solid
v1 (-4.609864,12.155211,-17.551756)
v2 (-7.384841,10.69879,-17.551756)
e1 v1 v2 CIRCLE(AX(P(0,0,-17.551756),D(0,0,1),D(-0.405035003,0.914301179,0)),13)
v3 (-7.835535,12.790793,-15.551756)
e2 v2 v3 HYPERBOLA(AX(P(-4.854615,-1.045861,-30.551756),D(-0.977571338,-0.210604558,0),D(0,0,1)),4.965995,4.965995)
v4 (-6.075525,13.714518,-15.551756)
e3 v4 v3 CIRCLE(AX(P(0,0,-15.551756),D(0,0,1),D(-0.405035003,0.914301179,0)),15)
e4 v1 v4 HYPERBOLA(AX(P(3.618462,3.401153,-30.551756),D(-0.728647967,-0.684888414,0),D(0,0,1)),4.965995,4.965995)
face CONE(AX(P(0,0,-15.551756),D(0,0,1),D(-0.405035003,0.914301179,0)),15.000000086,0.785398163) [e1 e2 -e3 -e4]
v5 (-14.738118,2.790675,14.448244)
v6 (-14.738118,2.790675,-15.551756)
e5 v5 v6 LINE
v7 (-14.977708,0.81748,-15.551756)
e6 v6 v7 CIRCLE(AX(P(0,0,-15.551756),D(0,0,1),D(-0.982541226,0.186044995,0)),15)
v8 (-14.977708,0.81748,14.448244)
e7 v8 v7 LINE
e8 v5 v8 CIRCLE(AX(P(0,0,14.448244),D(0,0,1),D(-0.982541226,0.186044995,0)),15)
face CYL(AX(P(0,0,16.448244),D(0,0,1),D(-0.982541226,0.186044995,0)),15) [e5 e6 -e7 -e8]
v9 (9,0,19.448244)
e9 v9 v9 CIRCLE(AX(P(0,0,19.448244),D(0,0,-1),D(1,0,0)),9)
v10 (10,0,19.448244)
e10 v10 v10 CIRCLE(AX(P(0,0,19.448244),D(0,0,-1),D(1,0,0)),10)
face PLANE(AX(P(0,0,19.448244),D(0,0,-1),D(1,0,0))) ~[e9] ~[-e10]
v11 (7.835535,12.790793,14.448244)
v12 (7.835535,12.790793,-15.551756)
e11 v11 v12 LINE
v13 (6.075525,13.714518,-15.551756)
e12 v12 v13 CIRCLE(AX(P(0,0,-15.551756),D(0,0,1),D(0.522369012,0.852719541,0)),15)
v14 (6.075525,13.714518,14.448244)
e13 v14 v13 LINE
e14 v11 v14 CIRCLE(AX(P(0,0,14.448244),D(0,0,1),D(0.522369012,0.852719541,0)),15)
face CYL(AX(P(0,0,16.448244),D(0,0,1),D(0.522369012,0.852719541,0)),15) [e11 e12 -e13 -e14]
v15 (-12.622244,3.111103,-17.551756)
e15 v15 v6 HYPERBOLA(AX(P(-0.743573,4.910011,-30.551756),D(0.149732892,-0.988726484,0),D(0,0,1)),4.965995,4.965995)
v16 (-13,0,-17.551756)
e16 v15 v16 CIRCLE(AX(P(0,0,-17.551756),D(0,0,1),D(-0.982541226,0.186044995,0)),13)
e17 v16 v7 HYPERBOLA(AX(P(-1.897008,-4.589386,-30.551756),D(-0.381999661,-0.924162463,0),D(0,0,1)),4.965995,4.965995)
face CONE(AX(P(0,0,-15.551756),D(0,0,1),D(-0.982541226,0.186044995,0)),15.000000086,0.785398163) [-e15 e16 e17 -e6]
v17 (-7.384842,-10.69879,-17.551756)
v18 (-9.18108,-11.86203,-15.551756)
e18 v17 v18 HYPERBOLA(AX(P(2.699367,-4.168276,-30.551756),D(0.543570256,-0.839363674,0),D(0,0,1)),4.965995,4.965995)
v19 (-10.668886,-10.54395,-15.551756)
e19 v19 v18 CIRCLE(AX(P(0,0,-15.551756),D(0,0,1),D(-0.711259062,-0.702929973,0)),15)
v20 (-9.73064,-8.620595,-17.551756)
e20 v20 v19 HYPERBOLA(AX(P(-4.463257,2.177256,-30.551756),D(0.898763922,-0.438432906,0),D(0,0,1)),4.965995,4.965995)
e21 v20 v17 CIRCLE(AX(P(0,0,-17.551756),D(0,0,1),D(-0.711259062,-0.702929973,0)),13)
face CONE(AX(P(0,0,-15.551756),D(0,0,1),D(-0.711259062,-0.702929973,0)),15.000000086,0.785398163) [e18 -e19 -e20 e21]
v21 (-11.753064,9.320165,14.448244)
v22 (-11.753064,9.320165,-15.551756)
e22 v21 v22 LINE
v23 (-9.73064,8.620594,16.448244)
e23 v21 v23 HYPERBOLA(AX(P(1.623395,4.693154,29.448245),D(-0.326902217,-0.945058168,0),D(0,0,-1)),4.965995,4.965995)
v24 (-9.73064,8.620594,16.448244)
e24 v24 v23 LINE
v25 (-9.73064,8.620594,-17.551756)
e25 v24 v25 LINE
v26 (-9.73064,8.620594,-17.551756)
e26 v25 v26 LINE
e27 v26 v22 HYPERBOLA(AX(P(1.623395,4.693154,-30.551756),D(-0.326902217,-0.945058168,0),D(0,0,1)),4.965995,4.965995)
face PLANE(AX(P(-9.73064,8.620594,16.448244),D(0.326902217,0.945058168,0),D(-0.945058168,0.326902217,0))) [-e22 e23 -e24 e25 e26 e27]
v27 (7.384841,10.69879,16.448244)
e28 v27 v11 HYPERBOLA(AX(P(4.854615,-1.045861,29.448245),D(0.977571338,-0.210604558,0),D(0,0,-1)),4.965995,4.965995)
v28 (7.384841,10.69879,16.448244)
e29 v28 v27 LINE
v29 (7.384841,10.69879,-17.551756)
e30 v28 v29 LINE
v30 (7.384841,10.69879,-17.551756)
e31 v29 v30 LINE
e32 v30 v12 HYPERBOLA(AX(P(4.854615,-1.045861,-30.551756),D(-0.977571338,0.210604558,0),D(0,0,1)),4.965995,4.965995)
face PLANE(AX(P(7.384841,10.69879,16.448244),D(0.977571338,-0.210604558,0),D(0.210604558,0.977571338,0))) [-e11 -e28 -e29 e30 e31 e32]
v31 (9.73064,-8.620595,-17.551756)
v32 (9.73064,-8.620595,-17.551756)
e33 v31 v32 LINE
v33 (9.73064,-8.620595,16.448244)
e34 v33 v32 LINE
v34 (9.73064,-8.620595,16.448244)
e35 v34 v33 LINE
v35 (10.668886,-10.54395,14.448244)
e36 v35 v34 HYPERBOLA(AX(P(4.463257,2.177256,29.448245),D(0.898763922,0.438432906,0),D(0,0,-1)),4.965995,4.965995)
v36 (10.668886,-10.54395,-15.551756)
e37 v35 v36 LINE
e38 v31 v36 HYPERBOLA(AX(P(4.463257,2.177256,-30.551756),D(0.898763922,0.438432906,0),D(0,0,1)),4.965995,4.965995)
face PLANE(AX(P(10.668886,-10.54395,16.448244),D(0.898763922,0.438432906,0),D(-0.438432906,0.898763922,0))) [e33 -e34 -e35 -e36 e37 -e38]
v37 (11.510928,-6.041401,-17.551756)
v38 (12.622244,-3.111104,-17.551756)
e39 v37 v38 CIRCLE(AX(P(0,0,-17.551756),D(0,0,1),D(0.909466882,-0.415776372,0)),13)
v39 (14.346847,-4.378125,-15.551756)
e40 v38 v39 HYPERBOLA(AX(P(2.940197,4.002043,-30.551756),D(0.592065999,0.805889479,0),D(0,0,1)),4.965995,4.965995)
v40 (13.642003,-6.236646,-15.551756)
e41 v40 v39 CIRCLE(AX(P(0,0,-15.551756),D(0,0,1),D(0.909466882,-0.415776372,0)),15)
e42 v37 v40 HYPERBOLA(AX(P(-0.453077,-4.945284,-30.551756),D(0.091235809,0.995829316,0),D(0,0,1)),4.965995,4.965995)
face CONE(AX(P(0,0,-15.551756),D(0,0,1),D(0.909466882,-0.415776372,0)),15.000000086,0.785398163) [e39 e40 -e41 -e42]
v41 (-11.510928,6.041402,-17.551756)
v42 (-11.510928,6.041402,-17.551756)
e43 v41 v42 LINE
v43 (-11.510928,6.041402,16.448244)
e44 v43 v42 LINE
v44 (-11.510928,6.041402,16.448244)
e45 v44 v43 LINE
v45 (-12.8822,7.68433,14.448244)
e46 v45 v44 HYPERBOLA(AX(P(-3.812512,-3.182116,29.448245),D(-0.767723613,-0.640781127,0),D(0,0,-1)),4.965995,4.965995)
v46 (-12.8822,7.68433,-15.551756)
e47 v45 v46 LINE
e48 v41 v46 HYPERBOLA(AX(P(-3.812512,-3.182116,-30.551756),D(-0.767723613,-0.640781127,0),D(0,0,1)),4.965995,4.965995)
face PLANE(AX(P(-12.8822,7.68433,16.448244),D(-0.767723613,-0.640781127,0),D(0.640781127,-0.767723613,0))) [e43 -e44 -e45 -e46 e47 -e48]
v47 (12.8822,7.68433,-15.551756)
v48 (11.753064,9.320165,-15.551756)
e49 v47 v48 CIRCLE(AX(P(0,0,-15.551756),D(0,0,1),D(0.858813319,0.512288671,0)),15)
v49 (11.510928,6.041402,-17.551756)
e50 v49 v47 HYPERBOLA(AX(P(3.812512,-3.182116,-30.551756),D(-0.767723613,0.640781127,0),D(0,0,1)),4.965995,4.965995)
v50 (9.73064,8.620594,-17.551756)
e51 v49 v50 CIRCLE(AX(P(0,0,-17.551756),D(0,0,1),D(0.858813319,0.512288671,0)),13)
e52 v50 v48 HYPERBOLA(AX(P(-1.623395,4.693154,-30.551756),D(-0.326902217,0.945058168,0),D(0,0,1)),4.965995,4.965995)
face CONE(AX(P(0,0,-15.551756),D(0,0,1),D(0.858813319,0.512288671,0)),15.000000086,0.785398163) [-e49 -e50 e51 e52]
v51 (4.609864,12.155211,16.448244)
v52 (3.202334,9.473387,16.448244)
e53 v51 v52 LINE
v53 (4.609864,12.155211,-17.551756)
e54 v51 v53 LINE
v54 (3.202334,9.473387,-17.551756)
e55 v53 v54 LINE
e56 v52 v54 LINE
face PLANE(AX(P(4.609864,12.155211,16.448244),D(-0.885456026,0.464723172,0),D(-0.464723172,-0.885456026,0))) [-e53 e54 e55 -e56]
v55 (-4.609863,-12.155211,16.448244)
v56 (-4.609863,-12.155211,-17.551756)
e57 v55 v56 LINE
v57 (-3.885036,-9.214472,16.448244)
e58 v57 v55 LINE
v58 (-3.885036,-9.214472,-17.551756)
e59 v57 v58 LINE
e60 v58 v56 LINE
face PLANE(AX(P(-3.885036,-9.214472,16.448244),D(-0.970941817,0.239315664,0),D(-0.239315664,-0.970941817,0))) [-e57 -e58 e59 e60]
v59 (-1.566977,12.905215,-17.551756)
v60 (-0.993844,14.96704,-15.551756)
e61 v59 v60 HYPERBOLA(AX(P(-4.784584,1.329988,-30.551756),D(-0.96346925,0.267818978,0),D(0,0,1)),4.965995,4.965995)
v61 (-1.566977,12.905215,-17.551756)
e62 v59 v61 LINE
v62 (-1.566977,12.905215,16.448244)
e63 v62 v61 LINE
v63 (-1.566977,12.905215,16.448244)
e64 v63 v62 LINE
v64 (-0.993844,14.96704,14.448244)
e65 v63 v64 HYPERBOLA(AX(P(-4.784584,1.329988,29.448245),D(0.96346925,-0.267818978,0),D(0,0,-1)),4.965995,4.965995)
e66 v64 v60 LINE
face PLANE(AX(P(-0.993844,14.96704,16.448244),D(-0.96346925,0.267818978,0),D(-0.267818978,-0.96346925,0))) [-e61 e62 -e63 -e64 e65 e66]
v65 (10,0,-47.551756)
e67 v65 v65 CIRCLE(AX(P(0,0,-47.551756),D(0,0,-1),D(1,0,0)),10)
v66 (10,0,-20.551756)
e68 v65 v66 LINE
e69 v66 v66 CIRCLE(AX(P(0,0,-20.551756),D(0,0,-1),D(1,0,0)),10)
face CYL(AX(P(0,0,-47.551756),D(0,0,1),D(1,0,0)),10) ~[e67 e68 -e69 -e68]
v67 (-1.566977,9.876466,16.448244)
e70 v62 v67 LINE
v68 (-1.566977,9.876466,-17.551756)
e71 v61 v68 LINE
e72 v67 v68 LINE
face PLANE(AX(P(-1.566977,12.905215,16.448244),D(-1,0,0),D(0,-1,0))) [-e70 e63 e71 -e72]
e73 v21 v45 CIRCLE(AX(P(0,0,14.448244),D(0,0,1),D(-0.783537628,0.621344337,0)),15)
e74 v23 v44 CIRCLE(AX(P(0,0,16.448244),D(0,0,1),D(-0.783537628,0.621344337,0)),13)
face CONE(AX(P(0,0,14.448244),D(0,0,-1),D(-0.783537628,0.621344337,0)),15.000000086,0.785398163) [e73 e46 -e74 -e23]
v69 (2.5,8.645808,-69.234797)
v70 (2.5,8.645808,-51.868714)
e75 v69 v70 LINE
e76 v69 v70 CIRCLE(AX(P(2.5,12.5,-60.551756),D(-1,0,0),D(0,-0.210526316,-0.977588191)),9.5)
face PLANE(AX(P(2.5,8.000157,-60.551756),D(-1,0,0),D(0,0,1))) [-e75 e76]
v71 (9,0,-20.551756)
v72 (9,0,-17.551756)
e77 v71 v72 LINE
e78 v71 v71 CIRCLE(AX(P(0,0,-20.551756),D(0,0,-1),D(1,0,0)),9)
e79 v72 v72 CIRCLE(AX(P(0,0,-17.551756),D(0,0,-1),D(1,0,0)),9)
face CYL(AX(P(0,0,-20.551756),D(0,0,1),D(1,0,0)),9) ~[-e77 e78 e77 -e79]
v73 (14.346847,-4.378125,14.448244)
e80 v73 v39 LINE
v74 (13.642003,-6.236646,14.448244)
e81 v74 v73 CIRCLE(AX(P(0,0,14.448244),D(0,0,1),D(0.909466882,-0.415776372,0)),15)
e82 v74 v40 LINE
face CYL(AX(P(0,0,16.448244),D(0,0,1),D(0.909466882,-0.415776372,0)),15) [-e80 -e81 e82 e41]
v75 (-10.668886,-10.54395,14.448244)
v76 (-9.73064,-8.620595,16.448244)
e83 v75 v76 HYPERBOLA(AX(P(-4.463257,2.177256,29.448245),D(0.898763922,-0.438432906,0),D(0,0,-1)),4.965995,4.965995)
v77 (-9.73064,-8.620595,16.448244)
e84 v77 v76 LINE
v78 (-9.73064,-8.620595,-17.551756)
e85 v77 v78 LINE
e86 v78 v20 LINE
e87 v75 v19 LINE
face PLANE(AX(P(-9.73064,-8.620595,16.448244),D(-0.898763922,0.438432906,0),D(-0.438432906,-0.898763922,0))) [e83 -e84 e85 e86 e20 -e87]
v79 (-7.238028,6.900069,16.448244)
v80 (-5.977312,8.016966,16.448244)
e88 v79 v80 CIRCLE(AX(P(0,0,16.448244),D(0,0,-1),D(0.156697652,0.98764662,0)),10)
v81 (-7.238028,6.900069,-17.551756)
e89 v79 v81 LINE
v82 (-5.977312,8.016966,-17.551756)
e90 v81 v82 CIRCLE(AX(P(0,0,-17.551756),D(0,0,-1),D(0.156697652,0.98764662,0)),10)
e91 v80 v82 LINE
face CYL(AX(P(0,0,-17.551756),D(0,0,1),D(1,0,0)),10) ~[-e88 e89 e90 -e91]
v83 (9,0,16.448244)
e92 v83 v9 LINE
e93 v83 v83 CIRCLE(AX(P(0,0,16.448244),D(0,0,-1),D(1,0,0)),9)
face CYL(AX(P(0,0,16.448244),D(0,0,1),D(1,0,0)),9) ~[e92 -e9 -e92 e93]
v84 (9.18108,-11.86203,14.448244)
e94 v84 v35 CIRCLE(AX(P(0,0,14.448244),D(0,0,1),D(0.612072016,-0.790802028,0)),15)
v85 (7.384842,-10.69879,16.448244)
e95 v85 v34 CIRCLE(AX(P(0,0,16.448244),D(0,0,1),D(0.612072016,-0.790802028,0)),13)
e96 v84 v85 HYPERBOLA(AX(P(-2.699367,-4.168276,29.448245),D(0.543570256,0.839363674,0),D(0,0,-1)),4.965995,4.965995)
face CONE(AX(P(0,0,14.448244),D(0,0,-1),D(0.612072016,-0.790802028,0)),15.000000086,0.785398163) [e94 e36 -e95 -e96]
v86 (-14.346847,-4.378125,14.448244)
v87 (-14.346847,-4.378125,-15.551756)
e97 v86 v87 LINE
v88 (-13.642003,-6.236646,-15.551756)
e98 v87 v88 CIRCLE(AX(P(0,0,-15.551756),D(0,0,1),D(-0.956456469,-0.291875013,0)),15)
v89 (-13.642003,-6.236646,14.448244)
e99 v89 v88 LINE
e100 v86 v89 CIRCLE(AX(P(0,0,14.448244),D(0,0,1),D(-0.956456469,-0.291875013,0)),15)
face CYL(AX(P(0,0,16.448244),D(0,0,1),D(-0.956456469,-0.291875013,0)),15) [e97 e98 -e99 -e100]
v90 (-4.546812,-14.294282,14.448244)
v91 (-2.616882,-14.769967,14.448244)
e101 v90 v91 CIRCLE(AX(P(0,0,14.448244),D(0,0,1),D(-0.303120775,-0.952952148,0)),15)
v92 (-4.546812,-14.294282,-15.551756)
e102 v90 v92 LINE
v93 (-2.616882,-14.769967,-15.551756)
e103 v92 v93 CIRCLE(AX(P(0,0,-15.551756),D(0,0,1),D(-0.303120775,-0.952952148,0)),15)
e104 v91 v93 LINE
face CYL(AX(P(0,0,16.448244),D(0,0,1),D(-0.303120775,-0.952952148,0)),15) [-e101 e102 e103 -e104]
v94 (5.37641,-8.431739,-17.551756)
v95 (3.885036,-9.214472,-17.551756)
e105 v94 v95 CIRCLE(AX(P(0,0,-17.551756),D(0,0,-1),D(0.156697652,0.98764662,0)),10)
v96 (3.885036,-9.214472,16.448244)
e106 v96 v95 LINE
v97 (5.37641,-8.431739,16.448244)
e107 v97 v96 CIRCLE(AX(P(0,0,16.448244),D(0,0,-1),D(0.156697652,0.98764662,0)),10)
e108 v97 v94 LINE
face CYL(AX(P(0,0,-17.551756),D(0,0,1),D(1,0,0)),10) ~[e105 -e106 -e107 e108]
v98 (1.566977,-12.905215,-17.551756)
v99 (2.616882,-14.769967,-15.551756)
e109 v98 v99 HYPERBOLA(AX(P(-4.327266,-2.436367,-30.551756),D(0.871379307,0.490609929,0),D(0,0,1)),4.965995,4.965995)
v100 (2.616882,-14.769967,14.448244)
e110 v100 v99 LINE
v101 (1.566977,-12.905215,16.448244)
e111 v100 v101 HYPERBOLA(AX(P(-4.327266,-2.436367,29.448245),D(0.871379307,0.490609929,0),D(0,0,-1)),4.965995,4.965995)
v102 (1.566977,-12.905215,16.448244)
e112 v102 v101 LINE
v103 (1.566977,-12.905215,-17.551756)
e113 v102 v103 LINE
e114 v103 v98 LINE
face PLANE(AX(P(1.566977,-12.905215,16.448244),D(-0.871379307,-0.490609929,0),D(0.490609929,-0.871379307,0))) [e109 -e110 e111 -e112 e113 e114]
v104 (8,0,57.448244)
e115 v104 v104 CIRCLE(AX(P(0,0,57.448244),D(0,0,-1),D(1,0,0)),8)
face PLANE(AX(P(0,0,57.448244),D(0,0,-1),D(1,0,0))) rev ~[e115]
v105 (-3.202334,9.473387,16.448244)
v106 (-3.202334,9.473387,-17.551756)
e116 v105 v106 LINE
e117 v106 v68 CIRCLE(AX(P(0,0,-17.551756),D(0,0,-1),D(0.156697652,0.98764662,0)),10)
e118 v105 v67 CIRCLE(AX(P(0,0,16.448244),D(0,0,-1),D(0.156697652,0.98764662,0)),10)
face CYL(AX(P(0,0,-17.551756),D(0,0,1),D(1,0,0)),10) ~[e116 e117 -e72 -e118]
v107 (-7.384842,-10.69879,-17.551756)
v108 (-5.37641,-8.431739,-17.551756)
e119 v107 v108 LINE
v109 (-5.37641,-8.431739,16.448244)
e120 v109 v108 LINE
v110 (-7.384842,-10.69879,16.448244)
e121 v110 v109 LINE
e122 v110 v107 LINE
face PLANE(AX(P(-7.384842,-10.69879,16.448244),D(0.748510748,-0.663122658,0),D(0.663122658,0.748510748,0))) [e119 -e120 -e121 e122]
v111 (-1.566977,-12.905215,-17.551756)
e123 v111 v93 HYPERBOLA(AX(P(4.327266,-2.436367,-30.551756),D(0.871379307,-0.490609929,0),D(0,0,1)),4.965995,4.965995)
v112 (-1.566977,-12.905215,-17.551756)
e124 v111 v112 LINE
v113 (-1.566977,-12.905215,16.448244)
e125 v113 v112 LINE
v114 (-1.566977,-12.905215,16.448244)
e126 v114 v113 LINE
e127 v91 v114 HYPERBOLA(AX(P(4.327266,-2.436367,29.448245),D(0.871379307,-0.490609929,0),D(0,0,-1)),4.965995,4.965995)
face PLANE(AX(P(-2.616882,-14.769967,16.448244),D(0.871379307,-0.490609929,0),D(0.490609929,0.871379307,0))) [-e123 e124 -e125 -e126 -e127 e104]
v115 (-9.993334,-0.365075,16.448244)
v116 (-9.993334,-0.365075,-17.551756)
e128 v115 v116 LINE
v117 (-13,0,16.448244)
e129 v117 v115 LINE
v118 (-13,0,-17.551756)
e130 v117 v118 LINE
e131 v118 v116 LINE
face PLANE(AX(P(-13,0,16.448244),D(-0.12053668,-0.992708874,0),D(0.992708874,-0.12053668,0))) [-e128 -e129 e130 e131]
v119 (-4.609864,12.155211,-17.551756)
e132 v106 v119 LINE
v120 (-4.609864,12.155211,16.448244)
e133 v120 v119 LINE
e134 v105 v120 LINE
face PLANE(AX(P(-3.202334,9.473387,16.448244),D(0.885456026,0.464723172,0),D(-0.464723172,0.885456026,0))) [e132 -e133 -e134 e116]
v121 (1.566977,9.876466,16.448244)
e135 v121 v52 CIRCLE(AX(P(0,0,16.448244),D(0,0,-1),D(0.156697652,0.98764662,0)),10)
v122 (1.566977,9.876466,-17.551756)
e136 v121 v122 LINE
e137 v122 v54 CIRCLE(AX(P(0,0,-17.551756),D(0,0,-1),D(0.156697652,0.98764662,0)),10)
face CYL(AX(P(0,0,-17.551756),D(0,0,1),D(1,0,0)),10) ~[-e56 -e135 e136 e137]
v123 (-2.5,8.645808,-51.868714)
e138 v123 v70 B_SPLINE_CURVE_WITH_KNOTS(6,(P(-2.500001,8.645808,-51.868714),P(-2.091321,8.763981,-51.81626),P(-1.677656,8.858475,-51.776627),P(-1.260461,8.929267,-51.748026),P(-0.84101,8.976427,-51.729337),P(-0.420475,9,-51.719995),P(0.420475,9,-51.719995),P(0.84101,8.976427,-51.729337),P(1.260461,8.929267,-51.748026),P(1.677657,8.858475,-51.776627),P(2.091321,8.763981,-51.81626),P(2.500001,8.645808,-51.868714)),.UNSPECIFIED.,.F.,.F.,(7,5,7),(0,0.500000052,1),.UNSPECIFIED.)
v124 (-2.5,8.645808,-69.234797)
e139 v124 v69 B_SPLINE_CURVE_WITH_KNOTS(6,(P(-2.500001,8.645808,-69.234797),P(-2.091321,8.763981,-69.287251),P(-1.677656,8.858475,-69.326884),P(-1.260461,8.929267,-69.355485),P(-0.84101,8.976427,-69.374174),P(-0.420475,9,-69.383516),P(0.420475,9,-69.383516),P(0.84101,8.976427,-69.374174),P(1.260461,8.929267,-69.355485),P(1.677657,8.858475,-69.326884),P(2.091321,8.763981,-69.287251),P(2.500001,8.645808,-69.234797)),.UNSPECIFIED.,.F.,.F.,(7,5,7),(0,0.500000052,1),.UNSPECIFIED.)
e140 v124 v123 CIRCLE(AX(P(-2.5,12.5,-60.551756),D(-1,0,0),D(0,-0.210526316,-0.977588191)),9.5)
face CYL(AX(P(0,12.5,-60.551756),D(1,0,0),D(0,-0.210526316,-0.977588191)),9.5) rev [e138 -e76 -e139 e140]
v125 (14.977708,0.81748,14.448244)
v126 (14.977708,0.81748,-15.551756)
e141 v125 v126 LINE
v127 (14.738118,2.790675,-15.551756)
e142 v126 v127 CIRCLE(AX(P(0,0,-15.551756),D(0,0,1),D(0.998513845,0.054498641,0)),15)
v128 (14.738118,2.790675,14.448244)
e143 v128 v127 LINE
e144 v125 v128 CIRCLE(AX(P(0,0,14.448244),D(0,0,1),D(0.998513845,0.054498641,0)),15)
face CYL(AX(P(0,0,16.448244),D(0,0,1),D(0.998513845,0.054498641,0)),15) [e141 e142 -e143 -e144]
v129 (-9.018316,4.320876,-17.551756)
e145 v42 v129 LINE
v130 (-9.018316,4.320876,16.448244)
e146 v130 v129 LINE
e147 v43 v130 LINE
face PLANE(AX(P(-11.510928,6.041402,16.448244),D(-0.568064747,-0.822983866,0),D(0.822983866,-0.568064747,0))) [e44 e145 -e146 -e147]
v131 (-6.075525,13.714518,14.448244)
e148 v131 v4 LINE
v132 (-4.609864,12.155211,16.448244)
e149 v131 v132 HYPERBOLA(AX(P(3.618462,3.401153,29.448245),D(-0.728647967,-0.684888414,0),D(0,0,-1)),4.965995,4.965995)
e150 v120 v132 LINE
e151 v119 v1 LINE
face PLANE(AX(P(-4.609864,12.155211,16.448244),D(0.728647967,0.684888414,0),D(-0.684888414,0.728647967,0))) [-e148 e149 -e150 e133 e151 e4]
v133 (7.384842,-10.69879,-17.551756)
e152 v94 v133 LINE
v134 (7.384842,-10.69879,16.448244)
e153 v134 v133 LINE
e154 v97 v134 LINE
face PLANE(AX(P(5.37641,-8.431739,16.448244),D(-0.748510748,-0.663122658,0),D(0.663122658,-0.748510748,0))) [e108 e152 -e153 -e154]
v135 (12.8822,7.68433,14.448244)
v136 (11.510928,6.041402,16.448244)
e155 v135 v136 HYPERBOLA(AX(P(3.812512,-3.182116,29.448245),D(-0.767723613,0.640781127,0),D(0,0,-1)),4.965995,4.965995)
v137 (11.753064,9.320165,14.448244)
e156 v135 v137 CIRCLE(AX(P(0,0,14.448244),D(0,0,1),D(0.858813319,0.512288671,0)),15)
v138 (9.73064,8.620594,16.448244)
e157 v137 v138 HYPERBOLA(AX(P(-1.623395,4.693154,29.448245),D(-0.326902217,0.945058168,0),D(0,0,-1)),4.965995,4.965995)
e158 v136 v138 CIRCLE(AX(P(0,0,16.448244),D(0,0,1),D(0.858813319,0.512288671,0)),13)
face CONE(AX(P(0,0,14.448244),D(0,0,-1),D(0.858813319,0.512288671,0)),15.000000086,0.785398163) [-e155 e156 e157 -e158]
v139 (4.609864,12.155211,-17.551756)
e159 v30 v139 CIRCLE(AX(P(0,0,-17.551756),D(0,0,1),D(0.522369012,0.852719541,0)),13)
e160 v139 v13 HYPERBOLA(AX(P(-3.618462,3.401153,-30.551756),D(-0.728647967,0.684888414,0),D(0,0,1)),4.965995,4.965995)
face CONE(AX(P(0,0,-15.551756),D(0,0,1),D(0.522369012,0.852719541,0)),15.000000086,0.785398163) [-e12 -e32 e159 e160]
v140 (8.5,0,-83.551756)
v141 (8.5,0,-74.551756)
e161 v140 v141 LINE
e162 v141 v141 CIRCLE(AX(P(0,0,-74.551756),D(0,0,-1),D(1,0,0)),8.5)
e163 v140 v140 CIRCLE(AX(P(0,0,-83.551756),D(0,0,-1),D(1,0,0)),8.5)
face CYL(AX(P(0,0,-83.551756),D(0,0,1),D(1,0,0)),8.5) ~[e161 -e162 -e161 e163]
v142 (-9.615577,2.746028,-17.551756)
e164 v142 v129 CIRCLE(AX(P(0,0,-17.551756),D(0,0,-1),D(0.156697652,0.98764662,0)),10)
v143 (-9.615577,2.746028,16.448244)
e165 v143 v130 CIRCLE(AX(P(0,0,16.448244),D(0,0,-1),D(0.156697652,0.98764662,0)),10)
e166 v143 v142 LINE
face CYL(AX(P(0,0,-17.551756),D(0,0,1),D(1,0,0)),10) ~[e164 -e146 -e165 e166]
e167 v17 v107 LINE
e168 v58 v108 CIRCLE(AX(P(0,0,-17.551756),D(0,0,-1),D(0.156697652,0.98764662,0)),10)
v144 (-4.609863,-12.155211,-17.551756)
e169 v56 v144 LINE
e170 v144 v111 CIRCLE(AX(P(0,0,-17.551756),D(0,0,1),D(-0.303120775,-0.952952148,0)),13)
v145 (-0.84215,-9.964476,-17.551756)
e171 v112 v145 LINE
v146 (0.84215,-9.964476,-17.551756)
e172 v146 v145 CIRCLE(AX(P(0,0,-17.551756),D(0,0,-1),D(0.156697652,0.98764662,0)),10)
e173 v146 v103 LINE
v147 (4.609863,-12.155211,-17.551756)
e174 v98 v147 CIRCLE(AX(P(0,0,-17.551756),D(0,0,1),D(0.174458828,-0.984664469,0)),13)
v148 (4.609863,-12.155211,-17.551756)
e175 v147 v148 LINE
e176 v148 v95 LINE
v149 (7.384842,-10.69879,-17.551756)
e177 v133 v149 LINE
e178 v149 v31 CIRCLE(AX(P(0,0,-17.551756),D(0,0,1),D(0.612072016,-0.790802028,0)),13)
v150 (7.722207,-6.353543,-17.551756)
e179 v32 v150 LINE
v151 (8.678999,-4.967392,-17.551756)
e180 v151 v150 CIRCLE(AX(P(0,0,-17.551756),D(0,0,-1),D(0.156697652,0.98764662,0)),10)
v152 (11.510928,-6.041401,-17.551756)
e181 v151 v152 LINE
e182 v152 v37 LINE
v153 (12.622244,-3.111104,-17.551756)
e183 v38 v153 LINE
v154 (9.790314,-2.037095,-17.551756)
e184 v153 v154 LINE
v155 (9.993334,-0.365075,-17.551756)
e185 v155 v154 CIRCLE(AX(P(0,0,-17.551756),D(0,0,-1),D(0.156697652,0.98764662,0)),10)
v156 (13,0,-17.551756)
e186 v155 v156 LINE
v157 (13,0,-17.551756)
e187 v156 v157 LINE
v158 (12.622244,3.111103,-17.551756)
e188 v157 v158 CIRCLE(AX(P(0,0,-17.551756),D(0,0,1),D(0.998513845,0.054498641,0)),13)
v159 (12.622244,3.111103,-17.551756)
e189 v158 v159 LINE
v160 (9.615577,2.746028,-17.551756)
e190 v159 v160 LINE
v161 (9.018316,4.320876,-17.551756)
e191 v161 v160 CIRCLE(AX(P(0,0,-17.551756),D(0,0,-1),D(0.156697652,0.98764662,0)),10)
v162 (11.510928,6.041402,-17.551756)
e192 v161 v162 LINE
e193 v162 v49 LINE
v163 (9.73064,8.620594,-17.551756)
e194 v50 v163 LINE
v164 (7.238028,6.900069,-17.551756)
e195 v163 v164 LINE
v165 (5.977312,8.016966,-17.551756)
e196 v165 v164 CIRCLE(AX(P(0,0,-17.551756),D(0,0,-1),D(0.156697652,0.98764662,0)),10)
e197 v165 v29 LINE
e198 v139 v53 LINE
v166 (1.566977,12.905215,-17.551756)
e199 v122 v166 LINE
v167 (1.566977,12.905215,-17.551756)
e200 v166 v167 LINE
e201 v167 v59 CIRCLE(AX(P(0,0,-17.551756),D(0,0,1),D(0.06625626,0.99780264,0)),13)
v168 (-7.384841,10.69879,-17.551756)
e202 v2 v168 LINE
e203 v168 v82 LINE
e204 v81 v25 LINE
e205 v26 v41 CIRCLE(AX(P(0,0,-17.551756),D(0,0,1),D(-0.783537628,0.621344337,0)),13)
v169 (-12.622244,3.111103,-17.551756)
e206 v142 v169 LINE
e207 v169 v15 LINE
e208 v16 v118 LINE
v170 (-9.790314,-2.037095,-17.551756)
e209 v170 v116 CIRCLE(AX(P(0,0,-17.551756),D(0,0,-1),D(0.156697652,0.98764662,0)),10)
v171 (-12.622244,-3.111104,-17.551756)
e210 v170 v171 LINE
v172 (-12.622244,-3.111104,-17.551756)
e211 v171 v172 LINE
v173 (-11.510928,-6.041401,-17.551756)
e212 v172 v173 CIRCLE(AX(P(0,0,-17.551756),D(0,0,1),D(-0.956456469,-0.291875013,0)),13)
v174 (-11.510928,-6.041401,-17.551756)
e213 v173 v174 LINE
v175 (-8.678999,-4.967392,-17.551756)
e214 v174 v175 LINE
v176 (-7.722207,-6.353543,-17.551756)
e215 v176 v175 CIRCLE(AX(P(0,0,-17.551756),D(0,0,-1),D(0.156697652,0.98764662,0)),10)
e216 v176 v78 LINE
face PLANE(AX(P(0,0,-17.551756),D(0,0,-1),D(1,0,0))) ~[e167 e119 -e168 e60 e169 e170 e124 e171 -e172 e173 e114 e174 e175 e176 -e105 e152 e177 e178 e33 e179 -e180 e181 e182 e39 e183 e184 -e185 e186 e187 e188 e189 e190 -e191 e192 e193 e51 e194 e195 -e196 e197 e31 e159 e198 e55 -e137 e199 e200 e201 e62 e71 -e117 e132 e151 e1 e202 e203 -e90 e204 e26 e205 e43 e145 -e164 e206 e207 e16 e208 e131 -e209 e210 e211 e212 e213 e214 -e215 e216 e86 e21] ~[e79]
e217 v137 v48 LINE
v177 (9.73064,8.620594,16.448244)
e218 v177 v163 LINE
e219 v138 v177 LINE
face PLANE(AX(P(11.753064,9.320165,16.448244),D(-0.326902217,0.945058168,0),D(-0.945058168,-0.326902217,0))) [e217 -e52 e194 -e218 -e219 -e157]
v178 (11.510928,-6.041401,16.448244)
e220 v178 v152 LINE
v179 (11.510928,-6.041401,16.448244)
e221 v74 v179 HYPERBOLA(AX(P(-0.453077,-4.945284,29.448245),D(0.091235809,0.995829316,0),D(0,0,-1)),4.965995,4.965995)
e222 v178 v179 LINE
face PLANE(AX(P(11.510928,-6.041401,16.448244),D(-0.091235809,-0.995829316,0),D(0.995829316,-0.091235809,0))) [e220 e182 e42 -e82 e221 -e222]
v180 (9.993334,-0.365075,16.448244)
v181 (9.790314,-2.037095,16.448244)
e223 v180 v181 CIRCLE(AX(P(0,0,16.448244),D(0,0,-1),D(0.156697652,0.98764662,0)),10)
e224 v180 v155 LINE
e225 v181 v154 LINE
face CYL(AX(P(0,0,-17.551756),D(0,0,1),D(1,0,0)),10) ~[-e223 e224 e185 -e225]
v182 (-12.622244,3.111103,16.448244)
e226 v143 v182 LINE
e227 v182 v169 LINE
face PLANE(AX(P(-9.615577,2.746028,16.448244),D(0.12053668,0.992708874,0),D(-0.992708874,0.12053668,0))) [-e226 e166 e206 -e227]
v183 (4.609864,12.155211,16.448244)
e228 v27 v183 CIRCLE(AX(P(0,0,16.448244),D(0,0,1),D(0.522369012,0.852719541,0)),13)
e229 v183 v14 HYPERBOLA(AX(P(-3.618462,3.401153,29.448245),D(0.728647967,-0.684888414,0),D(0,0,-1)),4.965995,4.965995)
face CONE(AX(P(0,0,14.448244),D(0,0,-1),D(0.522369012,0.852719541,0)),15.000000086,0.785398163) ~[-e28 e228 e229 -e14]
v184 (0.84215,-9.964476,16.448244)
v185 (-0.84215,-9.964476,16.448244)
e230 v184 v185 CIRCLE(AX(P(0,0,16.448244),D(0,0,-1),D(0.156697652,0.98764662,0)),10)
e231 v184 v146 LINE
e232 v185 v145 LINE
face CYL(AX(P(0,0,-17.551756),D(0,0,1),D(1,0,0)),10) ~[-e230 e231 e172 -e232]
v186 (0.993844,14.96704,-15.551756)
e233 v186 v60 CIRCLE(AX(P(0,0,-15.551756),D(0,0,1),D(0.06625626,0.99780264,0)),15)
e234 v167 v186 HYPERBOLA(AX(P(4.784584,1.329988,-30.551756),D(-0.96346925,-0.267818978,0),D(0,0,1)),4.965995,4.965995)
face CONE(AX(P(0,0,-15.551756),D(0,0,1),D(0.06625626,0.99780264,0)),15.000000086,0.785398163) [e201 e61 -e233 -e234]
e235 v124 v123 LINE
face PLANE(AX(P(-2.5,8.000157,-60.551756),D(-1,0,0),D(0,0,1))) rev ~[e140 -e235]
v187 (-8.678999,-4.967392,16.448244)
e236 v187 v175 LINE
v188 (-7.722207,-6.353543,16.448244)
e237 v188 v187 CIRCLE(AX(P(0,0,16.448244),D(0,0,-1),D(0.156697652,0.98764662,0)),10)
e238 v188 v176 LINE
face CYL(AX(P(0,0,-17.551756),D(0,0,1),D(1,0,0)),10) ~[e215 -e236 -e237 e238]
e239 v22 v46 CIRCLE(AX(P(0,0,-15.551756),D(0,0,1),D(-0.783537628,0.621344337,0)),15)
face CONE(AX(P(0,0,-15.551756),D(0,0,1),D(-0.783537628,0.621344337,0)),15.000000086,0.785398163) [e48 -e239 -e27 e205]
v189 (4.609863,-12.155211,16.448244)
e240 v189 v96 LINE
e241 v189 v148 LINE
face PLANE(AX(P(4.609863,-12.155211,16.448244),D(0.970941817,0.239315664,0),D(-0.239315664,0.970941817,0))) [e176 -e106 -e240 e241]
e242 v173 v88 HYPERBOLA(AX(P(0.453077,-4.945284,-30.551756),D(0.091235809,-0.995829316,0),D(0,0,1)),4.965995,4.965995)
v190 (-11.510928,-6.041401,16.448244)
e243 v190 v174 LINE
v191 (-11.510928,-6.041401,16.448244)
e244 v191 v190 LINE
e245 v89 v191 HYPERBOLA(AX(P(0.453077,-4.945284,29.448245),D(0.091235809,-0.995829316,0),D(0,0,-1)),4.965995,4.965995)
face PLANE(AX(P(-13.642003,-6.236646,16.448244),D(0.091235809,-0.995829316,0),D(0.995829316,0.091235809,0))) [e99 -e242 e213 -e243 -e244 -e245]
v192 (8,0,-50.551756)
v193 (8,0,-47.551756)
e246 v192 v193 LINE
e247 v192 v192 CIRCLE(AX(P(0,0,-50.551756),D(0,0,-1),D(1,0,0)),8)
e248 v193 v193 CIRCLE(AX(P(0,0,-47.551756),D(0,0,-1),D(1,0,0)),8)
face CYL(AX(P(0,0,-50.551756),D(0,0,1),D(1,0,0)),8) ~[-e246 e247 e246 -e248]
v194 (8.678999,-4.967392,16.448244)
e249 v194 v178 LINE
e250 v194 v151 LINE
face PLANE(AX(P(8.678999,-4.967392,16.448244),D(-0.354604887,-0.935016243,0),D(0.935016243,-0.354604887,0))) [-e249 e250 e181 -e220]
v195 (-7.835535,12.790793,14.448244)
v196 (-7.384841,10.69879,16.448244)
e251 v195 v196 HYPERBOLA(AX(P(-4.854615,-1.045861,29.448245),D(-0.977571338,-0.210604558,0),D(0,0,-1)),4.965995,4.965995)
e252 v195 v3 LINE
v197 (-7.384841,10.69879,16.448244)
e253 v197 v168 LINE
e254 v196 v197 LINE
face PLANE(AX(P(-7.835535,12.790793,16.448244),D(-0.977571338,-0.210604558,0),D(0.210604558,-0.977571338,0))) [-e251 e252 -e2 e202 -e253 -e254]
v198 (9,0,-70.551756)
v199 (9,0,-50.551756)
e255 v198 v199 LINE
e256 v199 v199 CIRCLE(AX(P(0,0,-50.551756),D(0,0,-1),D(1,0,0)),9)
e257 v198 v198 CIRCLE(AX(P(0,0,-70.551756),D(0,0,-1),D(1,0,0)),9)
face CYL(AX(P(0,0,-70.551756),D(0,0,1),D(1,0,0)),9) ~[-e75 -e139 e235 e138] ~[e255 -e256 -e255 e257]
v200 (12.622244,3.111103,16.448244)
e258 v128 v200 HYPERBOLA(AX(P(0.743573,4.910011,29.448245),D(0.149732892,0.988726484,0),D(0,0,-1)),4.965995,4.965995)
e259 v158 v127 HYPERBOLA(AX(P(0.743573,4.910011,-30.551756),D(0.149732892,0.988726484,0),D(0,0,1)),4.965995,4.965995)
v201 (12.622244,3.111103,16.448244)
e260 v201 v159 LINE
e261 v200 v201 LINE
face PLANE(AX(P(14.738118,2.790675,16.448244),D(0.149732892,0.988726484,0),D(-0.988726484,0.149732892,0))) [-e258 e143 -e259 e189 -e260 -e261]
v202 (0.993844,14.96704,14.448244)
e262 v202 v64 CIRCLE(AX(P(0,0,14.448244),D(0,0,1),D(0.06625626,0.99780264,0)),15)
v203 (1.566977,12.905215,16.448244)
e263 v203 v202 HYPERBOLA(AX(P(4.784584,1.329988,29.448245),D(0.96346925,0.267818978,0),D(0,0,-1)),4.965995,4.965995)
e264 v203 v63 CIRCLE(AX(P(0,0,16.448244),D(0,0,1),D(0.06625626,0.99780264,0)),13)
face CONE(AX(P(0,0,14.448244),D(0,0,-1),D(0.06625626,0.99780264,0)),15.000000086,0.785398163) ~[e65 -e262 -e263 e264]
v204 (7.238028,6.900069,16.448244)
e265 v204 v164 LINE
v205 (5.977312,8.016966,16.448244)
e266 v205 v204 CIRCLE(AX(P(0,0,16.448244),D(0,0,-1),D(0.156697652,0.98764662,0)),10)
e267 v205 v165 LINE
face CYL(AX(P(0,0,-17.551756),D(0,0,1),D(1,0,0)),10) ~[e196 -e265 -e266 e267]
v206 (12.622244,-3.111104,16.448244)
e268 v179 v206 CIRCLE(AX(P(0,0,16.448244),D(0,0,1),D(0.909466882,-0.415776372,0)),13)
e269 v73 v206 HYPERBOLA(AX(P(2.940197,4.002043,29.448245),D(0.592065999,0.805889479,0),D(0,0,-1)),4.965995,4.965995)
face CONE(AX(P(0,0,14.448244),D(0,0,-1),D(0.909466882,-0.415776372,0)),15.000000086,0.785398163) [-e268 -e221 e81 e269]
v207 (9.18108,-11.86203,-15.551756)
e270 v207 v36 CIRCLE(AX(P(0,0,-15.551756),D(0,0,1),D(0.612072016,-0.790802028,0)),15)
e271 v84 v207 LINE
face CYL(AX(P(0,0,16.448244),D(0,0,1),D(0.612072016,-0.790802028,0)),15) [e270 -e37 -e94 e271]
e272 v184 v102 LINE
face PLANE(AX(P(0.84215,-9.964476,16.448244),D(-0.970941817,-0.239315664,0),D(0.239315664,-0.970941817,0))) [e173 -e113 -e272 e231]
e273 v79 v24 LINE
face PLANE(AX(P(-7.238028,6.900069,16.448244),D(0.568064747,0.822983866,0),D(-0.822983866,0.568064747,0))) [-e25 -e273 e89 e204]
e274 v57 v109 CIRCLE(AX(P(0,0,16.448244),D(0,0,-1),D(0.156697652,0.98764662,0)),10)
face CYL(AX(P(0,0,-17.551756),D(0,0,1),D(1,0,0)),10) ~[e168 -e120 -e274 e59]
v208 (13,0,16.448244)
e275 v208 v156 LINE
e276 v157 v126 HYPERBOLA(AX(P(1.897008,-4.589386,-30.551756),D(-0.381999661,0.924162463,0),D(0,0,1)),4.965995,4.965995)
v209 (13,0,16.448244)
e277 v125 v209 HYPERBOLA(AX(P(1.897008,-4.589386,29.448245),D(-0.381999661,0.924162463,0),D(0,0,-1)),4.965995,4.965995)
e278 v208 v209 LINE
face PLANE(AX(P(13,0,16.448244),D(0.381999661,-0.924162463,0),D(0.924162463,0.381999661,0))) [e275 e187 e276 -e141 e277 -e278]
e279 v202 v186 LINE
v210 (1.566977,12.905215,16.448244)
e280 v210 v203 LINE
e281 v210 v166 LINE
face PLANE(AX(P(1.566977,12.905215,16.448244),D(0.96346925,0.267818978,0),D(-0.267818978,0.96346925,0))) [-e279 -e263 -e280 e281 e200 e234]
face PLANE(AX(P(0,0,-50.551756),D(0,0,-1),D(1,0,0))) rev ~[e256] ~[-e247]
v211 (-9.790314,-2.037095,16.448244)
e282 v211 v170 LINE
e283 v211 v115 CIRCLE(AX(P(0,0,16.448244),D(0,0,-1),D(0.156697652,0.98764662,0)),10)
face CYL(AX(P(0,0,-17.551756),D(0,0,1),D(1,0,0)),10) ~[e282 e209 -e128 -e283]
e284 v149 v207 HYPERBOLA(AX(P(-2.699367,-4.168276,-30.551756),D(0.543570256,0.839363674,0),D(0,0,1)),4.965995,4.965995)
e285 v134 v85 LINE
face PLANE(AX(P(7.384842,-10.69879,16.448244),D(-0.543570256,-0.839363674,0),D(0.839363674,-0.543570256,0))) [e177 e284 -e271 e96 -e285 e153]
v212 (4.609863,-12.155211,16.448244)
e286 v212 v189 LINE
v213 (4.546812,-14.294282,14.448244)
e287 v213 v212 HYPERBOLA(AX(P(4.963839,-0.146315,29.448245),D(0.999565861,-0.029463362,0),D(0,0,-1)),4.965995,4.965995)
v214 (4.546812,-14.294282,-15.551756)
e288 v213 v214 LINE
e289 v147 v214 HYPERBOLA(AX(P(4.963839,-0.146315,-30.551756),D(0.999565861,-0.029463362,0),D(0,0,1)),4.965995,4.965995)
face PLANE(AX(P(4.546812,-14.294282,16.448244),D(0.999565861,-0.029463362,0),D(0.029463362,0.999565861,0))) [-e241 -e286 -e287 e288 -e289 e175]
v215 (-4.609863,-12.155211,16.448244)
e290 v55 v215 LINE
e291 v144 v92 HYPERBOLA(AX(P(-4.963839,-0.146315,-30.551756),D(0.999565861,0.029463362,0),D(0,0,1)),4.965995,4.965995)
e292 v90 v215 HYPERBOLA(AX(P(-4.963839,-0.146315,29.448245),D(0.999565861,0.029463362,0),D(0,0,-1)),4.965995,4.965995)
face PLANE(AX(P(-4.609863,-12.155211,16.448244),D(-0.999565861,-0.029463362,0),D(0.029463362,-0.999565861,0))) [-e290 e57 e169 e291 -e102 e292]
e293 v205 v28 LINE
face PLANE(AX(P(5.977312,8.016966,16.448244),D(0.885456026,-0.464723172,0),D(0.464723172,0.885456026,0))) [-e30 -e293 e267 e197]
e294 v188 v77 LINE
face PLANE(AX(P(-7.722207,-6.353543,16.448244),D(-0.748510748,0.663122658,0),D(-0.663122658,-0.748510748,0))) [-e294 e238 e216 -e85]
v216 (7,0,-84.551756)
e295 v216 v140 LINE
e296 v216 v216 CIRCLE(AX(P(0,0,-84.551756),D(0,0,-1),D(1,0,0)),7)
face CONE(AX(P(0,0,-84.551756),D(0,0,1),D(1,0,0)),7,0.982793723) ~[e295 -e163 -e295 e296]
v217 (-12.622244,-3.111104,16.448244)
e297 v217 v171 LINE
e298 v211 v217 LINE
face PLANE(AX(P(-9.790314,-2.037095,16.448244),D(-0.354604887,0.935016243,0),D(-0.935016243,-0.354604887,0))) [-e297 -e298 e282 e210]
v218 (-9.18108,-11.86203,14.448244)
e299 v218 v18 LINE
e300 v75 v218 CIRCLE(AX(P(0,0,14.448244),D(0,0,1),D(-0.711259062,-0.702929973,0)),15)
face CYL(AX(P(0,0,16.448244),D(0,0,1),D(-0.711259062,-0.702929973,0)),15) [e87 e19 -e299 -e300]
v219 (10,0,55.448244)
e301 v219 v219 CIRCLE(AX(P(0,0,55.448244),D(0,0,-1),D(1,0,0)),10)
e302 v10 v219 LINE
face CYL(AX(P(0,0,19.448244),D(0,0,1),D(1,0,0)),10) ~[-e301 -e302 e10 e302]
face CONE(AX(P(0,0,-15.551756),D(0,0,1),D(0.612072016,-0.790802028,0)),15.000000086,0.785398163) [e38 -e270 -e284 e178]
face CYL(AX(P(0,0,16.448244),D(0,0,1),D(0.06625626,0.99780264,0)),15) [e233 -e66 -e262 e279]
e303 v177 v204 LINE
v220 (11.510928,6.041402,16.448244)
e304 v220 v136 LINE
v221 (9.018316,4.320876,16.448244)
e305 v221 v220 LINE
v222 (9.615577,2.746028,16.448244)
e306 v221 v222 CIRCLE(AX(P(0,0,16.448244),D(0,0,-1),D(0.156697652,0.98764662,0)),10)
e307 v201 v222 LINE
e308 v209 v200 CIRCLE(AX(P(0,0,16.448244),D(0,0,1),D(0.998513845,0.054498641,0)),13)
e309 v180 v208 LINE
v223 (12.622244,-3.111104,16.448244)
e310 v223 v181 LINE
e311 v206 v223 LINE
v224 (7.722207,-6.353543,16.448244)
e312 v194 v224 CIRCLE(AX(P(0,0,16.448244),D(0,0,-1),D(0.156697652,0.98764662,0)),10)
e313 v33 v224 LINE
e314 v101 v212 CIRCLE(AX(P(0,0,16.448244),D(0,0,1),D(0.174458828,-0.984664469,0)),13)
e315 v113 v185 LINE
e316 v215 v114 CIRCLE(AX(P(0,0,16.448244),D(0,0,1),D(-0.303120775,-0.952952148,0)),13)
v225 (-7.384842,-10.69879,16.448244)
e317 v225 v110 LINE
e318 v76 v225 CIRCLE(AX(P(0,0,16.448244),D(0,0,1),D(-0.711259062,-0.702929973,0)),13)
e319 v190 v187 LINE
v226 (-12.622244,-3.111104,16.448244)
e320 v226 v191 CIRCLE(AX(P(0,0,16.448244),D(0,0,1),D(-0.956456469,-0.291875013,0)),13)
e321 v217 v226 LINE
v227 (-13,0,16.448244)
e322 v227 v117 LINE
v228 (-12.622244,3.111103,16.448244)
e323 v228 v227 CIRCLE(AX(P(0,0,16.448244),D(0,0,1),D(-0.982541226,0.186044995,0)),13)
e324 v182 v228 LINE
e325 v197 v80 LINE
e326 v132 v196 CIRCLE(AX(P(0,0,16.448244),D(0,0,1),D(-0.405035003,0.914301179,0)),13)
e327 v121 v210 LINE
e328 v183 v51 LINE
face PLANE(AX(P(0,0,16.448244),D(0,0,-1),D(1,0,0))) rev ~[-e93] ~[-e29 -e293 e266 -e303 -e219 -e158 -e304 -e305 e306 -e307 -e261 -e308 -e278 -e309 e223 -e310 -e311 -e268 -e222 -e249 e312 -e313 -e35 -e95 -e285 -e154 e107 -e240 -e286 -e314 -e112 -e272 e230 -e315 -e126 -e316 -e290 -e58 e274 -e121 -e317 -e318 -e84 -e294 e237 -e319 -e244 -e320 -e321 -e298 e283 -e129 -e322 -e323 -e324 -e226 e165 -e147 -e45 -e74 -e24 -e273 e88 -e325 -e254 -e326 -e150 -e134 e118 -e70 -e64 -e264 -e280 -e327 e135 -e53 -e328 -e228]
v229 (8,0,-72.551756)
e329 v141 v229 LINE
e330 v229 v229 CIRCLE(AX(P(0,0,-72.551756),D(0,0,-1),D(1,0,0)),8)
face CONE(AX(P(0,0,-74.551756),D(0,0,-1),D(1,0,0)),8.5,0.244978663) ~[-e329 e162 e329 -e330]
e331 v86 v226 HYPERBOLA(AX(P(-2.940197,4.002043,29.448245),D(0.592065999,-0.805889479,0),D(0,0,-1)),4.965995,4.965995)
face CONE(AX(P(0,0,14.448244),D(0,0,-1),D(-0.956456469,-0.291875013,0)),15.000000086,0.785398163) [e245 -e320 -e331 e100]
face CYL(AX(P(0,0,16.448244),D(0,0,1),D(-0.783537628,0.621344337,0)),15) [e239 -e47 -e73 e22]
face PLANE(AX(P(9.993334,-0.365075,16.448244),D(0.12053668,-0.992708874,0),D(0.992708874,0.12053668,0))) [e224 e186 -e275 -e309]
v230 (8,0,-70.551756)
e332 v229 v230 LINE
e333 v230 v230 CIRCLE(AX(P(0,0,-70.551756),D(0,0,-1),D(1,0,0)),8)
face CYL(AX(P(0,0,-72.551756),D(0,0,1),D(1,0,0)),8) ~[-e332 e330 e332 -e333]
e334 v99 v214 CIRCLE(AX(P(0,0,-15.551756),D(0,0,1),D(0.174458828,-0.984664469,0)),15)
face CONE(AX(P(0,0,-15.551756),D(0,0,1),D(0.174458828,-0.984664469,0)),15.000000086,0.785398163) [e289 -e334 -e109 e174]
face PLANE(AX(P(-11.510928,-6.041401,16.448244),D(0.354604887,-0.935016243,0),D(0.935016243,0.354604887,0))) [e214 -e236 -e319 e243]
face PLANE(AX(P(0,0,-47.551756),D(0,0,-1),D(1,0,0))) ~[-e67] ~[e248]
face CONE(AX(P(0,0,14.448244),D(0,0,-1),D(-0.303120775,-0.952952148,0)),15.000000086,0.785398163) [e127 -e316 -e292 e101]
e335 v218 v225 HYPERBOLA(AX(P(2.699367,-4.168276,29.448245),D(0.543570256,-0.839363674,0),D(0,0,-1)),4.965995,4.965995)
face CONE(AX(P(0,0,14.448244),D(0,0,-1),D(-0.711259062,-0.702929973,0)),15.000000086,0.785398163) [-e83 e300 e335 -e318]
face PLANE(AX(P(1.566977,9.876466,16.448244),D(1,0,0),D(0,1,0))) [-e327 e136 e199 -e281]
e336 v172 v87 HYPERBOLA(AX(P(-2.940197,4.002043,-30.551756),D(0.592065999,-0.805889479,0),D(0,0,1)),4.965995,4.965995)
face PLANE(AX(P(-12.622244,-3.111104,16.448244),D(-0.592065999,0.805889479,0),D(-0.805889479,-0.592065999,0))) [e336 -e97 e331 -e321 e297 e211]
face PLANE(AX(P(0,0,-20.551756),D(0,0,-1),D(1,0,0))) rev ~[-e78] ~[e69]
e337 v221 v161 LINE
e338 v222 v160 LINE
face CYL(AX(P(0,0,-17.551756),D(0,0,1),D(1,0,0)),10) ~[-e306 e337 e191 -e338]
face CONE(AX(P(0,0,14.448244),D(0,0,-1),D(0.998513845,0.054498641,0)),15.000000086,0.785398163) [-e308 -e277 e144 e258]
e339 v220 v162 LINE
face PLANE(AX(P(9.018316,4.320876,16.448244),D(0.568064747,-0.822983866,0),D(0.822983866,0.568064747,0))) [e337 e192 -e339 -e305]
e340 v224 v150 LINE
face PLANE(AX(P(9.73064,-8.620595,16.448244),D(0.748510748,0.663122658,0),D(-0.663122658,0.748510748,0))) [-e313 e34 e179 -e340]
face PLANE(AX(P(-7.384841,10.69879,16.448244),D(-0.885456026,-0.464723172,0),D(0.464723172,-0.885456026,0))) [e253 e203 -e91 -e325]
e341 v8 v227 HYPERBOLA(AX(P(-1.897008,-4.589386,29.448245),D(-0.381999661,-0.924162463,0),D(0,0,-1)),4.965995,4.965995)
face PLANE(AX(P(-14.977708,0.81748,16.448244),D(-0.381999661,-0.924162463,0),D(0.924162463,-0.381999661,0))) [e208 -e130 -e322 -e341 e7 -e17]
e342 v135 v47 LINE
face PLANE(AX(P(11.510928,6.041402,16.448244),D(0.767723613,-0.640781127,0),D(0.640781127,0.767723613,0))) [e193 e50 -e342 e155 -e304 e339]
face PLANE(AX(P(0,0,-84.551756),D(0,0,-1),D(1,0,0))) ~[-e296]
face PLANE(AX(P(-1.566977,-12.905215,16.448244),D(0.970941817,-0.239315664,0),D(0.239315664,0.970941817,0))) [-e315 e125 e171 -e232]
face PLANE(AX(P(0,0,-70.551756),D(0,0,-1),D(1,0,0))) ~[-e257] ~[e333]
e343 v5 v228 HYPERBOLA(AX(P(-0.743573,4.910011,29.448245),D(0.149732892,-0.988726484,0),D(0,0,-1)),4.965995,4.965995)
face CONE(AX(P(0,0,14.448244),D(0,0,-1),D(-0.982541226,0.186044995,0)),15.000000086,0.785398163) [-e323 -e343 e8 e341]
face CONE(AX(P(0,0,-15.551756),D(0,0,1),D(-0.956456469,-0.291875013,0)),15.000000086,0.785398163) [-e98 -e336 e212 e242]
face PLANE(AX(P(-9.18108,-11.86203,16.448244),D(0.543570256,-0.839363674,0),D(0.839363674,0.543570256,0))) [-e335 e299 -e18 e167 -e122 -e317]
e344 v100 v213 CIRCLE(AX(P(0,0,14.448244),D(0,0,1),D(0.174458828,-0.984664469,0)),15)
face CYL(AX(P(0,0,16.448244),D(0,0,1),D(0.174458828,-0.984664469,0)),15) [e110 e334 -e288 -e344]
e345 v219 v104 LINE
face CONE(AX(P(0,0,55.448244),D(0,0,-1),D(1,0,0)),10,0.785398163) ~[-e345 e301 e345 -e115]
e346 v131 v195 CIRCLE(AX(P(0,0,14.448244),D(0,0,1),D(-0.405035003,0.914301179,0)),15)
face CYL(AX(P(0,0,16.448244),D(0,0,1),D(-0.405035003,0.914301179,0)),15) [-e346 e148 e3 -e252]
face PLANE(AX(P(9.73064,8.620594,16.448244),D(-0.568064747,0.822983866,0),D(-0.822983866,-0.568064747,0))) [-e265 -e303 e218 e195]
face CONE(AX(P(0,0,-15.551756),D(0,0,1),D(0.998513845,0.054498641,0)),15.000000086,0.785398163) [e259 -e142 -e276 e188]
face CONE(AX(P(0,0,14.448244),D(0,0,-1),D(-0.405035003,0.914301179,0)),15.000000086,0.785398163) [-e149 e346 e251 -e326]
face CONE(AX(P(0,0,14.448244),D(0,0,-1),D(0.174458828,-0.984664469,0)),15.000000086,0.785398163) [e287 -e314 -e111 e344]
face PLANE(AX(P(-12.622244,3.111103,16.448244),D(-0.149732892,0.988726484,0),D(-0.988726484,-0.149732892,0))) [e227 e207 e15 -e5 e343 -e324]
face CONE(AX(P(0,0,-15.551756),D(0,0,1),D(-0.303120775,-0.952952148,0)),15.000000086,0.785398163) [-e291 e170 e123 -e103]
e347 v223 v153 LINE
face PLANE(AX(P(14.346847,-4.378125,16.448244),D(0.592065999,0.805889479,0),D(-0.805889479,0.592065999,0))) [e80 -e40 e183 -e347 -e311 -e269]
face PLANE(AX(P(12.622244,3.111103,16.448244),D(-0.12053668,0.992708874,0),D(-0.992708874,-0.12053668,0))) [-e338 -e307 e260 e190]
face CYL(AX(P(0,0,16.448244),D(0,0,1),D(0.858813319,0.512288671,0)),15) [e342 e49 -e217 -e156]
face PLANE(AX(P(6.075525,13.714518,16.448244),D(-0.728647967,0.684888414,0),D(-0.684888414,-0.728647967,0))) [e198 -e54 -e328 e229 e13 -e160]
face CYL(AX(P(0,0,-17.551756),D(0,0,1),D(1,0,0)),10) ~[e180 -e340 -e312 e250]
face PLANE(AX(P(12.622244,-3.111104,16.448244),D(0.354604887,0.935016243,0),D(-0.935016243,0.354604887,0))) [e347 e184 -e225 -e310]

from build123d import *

# Parameters (mm, degrees)
EXTRUDE_START                        = 16
EXTRUDE_1_DEPTH                      = 34
CHAMFER_1_SIZE                       = 2
PATTERN_CIRCULAR_1_COUNT             = 13
CHAMFER_1_OF_PATTERN_CIRCULAR_1_SIZE = 2
CUT_EXTRUDE_1_DEPTH                  = 2.5


with BuildPart() as part:
    # Эскиз1 → Повернуть1 (revolve)
    with BuildSketch(Plane(origin=(0, 0, 0), x_dir=(0, 0, -1), z_dir=(1, 0, 0)), mode=Mode.PRIVATE) as revolve_1_sk:
        Polygon((84.551755586, 0), (84.551755586, 7), (83.551755586, 8.5), (74.551755586, 8.5), (72.551755586, 8), (70.551755586, 8), (70.551755586, 9), (50.551755586, 9), (50.551755586, 8), (47.551755586, 8), (47.551755586, 10), (20.551755586, 10), (20.551755586, 9), (17.551755586, 9), (17.551755586, 10), (-16.448244414, 10), (-16.448244414, 9), (-19.448244414, 9), (-19.448244414, 10), (-55.448244414, 10), (-57.448244414, 8), (-57.448244414, 0), align=None)
    revolve(revolve_1_sk.sketch.rotate(Axis((0, 0, 57.448244414), (0, 0, -1)), 90), axis=Axis((0, 0, 57.448244414), (0, 0, -1)))

    # Эскиз2 → Бобышка-Вытянуть1 (add)
    with BuildSketch(Plane.XY.offset(0.448244414).offset(EXTRUDE_START)):
        with BuildLine():
            Line((1.566976519, 9.876466199), (1.566976519, 12.905215403))
            Line((1.566976519, 12.905215403), (0.993843905, 14.967039597))
            ThreePointArc((0.993843905, 14.967039597), (0, 15), (-0.993843905, 14.967039597))
            Line((-0.993843905, 14.967039597), (-1.566976519, 12.905215403))
            Line((-1.566976519, 12.905215403), (-1.566976519, 9.876466199))
            ThreePointArc((-1.566976519, 9.876466199), (0, 10), (1.566976519, 9.876466199))
        make_face()
    extrude_1 = extrude(amount=-EXTRUDE_1_DEPTH)

    # Фаска1
    chamfer_1_edges = [part.edges().sort_by_distance(p)[0] for p in [
        (0, 15, 16.448244414),
        (0, 15, -17.551755586),
    ]]
    chamfer(chamfer_1_edges, length=CHAMFER_1_SIZE)

    # Круговой массив1: Бобышка-Вытянуть1 ×13 about axis
    pattern_circular_1_axis = Axis((0, 0, 0), (0, 0, 1))
    for i in range(1, PATTERN_CIRCULAR_1_COUNT):
        add(extrude_1.rotate(pattern_circular_1_axis, i * 360 / PATTERN_CIRCULAR_1_COUNT))

    # Фаска1 of Круговой массив1
    chamfer_1_of_pattern_circular_1_edges = [part.edges().sort_by_distance(p)[0] for p in [
        (-6.970847581, 13.281840385, 16.448244414),
        (-6.970847581, 13.281840385, -17.551755586),
        (-12.344757988, 8.520971201, 16.448244414),
        (-12.344757988, 8.520971201, -17.551755586),
        (-14.890633111, 1.808050204, 16.448244414),
        (-14.890633111, 1.808050204, -17.551755586),
        (-14.02524364, -5.319073306, 16.448244414),
        (-14.02524364, -5.319073306, -17.551755586),
        (-9.946839874, -11.227661223, 16.448244414),
        (-9.946839874, -11.227661223, -17.551755586),
        (-3.589734964, -14.564127261, 16.448244414),
        (-3.589734964, -14.564127261, -17.551755586),
        (3.589734964, -14.564127261, 16.448244414),
        (3.589734964, -14.564127261, -17.551755586),
        (9.946839874, -11.227661223, 16.448244414),
        (9.946839874, -11.227661223, -17.551755586),
        (14.02524364, -5.319073306, 16.448244414),
        (14.02524364, -5.319073306, -17.551755586),
        (14.890633111, 1.808050204, 16.448244414),
        (14.890633111, 1.808050204, -17.551755586),
        (12.344757988, 8.520971201, 16.448244414),
        (12.344757988, 8.520971201, -17.551755586),
        (6.970847581, 13.281840385, 16.448244414),
        (6.970847581, 13.281840385, -17.551755586),
    ]]
    chamfer(chamfer_1_of_pattern_circular_1_edges, length=CHAMFER_1_OF_PATTERN_CIRCULAR_1_SIZE)

    # Эскиз3 → Вырез-Вытянуть1 (cut, symmetric)
    with BuildSketch(Plane(origin=(0, 0, 0), x_dir=(0, 0, -1), z_dir=(1, 0, 0))):
        with BuildLine():
            Line((51.264667775, 10.5), (69.838843396, 10.5))
            ThreePointArc((69.838843396, 10.5), (60.551755586, 3), (51.264667775, 10.5))
        make_face()
    extrude(amount=CUT_EXTRUDE_1_DEPTH, both=True, mode=Mode.SUBTRACT)


solid = part.part
